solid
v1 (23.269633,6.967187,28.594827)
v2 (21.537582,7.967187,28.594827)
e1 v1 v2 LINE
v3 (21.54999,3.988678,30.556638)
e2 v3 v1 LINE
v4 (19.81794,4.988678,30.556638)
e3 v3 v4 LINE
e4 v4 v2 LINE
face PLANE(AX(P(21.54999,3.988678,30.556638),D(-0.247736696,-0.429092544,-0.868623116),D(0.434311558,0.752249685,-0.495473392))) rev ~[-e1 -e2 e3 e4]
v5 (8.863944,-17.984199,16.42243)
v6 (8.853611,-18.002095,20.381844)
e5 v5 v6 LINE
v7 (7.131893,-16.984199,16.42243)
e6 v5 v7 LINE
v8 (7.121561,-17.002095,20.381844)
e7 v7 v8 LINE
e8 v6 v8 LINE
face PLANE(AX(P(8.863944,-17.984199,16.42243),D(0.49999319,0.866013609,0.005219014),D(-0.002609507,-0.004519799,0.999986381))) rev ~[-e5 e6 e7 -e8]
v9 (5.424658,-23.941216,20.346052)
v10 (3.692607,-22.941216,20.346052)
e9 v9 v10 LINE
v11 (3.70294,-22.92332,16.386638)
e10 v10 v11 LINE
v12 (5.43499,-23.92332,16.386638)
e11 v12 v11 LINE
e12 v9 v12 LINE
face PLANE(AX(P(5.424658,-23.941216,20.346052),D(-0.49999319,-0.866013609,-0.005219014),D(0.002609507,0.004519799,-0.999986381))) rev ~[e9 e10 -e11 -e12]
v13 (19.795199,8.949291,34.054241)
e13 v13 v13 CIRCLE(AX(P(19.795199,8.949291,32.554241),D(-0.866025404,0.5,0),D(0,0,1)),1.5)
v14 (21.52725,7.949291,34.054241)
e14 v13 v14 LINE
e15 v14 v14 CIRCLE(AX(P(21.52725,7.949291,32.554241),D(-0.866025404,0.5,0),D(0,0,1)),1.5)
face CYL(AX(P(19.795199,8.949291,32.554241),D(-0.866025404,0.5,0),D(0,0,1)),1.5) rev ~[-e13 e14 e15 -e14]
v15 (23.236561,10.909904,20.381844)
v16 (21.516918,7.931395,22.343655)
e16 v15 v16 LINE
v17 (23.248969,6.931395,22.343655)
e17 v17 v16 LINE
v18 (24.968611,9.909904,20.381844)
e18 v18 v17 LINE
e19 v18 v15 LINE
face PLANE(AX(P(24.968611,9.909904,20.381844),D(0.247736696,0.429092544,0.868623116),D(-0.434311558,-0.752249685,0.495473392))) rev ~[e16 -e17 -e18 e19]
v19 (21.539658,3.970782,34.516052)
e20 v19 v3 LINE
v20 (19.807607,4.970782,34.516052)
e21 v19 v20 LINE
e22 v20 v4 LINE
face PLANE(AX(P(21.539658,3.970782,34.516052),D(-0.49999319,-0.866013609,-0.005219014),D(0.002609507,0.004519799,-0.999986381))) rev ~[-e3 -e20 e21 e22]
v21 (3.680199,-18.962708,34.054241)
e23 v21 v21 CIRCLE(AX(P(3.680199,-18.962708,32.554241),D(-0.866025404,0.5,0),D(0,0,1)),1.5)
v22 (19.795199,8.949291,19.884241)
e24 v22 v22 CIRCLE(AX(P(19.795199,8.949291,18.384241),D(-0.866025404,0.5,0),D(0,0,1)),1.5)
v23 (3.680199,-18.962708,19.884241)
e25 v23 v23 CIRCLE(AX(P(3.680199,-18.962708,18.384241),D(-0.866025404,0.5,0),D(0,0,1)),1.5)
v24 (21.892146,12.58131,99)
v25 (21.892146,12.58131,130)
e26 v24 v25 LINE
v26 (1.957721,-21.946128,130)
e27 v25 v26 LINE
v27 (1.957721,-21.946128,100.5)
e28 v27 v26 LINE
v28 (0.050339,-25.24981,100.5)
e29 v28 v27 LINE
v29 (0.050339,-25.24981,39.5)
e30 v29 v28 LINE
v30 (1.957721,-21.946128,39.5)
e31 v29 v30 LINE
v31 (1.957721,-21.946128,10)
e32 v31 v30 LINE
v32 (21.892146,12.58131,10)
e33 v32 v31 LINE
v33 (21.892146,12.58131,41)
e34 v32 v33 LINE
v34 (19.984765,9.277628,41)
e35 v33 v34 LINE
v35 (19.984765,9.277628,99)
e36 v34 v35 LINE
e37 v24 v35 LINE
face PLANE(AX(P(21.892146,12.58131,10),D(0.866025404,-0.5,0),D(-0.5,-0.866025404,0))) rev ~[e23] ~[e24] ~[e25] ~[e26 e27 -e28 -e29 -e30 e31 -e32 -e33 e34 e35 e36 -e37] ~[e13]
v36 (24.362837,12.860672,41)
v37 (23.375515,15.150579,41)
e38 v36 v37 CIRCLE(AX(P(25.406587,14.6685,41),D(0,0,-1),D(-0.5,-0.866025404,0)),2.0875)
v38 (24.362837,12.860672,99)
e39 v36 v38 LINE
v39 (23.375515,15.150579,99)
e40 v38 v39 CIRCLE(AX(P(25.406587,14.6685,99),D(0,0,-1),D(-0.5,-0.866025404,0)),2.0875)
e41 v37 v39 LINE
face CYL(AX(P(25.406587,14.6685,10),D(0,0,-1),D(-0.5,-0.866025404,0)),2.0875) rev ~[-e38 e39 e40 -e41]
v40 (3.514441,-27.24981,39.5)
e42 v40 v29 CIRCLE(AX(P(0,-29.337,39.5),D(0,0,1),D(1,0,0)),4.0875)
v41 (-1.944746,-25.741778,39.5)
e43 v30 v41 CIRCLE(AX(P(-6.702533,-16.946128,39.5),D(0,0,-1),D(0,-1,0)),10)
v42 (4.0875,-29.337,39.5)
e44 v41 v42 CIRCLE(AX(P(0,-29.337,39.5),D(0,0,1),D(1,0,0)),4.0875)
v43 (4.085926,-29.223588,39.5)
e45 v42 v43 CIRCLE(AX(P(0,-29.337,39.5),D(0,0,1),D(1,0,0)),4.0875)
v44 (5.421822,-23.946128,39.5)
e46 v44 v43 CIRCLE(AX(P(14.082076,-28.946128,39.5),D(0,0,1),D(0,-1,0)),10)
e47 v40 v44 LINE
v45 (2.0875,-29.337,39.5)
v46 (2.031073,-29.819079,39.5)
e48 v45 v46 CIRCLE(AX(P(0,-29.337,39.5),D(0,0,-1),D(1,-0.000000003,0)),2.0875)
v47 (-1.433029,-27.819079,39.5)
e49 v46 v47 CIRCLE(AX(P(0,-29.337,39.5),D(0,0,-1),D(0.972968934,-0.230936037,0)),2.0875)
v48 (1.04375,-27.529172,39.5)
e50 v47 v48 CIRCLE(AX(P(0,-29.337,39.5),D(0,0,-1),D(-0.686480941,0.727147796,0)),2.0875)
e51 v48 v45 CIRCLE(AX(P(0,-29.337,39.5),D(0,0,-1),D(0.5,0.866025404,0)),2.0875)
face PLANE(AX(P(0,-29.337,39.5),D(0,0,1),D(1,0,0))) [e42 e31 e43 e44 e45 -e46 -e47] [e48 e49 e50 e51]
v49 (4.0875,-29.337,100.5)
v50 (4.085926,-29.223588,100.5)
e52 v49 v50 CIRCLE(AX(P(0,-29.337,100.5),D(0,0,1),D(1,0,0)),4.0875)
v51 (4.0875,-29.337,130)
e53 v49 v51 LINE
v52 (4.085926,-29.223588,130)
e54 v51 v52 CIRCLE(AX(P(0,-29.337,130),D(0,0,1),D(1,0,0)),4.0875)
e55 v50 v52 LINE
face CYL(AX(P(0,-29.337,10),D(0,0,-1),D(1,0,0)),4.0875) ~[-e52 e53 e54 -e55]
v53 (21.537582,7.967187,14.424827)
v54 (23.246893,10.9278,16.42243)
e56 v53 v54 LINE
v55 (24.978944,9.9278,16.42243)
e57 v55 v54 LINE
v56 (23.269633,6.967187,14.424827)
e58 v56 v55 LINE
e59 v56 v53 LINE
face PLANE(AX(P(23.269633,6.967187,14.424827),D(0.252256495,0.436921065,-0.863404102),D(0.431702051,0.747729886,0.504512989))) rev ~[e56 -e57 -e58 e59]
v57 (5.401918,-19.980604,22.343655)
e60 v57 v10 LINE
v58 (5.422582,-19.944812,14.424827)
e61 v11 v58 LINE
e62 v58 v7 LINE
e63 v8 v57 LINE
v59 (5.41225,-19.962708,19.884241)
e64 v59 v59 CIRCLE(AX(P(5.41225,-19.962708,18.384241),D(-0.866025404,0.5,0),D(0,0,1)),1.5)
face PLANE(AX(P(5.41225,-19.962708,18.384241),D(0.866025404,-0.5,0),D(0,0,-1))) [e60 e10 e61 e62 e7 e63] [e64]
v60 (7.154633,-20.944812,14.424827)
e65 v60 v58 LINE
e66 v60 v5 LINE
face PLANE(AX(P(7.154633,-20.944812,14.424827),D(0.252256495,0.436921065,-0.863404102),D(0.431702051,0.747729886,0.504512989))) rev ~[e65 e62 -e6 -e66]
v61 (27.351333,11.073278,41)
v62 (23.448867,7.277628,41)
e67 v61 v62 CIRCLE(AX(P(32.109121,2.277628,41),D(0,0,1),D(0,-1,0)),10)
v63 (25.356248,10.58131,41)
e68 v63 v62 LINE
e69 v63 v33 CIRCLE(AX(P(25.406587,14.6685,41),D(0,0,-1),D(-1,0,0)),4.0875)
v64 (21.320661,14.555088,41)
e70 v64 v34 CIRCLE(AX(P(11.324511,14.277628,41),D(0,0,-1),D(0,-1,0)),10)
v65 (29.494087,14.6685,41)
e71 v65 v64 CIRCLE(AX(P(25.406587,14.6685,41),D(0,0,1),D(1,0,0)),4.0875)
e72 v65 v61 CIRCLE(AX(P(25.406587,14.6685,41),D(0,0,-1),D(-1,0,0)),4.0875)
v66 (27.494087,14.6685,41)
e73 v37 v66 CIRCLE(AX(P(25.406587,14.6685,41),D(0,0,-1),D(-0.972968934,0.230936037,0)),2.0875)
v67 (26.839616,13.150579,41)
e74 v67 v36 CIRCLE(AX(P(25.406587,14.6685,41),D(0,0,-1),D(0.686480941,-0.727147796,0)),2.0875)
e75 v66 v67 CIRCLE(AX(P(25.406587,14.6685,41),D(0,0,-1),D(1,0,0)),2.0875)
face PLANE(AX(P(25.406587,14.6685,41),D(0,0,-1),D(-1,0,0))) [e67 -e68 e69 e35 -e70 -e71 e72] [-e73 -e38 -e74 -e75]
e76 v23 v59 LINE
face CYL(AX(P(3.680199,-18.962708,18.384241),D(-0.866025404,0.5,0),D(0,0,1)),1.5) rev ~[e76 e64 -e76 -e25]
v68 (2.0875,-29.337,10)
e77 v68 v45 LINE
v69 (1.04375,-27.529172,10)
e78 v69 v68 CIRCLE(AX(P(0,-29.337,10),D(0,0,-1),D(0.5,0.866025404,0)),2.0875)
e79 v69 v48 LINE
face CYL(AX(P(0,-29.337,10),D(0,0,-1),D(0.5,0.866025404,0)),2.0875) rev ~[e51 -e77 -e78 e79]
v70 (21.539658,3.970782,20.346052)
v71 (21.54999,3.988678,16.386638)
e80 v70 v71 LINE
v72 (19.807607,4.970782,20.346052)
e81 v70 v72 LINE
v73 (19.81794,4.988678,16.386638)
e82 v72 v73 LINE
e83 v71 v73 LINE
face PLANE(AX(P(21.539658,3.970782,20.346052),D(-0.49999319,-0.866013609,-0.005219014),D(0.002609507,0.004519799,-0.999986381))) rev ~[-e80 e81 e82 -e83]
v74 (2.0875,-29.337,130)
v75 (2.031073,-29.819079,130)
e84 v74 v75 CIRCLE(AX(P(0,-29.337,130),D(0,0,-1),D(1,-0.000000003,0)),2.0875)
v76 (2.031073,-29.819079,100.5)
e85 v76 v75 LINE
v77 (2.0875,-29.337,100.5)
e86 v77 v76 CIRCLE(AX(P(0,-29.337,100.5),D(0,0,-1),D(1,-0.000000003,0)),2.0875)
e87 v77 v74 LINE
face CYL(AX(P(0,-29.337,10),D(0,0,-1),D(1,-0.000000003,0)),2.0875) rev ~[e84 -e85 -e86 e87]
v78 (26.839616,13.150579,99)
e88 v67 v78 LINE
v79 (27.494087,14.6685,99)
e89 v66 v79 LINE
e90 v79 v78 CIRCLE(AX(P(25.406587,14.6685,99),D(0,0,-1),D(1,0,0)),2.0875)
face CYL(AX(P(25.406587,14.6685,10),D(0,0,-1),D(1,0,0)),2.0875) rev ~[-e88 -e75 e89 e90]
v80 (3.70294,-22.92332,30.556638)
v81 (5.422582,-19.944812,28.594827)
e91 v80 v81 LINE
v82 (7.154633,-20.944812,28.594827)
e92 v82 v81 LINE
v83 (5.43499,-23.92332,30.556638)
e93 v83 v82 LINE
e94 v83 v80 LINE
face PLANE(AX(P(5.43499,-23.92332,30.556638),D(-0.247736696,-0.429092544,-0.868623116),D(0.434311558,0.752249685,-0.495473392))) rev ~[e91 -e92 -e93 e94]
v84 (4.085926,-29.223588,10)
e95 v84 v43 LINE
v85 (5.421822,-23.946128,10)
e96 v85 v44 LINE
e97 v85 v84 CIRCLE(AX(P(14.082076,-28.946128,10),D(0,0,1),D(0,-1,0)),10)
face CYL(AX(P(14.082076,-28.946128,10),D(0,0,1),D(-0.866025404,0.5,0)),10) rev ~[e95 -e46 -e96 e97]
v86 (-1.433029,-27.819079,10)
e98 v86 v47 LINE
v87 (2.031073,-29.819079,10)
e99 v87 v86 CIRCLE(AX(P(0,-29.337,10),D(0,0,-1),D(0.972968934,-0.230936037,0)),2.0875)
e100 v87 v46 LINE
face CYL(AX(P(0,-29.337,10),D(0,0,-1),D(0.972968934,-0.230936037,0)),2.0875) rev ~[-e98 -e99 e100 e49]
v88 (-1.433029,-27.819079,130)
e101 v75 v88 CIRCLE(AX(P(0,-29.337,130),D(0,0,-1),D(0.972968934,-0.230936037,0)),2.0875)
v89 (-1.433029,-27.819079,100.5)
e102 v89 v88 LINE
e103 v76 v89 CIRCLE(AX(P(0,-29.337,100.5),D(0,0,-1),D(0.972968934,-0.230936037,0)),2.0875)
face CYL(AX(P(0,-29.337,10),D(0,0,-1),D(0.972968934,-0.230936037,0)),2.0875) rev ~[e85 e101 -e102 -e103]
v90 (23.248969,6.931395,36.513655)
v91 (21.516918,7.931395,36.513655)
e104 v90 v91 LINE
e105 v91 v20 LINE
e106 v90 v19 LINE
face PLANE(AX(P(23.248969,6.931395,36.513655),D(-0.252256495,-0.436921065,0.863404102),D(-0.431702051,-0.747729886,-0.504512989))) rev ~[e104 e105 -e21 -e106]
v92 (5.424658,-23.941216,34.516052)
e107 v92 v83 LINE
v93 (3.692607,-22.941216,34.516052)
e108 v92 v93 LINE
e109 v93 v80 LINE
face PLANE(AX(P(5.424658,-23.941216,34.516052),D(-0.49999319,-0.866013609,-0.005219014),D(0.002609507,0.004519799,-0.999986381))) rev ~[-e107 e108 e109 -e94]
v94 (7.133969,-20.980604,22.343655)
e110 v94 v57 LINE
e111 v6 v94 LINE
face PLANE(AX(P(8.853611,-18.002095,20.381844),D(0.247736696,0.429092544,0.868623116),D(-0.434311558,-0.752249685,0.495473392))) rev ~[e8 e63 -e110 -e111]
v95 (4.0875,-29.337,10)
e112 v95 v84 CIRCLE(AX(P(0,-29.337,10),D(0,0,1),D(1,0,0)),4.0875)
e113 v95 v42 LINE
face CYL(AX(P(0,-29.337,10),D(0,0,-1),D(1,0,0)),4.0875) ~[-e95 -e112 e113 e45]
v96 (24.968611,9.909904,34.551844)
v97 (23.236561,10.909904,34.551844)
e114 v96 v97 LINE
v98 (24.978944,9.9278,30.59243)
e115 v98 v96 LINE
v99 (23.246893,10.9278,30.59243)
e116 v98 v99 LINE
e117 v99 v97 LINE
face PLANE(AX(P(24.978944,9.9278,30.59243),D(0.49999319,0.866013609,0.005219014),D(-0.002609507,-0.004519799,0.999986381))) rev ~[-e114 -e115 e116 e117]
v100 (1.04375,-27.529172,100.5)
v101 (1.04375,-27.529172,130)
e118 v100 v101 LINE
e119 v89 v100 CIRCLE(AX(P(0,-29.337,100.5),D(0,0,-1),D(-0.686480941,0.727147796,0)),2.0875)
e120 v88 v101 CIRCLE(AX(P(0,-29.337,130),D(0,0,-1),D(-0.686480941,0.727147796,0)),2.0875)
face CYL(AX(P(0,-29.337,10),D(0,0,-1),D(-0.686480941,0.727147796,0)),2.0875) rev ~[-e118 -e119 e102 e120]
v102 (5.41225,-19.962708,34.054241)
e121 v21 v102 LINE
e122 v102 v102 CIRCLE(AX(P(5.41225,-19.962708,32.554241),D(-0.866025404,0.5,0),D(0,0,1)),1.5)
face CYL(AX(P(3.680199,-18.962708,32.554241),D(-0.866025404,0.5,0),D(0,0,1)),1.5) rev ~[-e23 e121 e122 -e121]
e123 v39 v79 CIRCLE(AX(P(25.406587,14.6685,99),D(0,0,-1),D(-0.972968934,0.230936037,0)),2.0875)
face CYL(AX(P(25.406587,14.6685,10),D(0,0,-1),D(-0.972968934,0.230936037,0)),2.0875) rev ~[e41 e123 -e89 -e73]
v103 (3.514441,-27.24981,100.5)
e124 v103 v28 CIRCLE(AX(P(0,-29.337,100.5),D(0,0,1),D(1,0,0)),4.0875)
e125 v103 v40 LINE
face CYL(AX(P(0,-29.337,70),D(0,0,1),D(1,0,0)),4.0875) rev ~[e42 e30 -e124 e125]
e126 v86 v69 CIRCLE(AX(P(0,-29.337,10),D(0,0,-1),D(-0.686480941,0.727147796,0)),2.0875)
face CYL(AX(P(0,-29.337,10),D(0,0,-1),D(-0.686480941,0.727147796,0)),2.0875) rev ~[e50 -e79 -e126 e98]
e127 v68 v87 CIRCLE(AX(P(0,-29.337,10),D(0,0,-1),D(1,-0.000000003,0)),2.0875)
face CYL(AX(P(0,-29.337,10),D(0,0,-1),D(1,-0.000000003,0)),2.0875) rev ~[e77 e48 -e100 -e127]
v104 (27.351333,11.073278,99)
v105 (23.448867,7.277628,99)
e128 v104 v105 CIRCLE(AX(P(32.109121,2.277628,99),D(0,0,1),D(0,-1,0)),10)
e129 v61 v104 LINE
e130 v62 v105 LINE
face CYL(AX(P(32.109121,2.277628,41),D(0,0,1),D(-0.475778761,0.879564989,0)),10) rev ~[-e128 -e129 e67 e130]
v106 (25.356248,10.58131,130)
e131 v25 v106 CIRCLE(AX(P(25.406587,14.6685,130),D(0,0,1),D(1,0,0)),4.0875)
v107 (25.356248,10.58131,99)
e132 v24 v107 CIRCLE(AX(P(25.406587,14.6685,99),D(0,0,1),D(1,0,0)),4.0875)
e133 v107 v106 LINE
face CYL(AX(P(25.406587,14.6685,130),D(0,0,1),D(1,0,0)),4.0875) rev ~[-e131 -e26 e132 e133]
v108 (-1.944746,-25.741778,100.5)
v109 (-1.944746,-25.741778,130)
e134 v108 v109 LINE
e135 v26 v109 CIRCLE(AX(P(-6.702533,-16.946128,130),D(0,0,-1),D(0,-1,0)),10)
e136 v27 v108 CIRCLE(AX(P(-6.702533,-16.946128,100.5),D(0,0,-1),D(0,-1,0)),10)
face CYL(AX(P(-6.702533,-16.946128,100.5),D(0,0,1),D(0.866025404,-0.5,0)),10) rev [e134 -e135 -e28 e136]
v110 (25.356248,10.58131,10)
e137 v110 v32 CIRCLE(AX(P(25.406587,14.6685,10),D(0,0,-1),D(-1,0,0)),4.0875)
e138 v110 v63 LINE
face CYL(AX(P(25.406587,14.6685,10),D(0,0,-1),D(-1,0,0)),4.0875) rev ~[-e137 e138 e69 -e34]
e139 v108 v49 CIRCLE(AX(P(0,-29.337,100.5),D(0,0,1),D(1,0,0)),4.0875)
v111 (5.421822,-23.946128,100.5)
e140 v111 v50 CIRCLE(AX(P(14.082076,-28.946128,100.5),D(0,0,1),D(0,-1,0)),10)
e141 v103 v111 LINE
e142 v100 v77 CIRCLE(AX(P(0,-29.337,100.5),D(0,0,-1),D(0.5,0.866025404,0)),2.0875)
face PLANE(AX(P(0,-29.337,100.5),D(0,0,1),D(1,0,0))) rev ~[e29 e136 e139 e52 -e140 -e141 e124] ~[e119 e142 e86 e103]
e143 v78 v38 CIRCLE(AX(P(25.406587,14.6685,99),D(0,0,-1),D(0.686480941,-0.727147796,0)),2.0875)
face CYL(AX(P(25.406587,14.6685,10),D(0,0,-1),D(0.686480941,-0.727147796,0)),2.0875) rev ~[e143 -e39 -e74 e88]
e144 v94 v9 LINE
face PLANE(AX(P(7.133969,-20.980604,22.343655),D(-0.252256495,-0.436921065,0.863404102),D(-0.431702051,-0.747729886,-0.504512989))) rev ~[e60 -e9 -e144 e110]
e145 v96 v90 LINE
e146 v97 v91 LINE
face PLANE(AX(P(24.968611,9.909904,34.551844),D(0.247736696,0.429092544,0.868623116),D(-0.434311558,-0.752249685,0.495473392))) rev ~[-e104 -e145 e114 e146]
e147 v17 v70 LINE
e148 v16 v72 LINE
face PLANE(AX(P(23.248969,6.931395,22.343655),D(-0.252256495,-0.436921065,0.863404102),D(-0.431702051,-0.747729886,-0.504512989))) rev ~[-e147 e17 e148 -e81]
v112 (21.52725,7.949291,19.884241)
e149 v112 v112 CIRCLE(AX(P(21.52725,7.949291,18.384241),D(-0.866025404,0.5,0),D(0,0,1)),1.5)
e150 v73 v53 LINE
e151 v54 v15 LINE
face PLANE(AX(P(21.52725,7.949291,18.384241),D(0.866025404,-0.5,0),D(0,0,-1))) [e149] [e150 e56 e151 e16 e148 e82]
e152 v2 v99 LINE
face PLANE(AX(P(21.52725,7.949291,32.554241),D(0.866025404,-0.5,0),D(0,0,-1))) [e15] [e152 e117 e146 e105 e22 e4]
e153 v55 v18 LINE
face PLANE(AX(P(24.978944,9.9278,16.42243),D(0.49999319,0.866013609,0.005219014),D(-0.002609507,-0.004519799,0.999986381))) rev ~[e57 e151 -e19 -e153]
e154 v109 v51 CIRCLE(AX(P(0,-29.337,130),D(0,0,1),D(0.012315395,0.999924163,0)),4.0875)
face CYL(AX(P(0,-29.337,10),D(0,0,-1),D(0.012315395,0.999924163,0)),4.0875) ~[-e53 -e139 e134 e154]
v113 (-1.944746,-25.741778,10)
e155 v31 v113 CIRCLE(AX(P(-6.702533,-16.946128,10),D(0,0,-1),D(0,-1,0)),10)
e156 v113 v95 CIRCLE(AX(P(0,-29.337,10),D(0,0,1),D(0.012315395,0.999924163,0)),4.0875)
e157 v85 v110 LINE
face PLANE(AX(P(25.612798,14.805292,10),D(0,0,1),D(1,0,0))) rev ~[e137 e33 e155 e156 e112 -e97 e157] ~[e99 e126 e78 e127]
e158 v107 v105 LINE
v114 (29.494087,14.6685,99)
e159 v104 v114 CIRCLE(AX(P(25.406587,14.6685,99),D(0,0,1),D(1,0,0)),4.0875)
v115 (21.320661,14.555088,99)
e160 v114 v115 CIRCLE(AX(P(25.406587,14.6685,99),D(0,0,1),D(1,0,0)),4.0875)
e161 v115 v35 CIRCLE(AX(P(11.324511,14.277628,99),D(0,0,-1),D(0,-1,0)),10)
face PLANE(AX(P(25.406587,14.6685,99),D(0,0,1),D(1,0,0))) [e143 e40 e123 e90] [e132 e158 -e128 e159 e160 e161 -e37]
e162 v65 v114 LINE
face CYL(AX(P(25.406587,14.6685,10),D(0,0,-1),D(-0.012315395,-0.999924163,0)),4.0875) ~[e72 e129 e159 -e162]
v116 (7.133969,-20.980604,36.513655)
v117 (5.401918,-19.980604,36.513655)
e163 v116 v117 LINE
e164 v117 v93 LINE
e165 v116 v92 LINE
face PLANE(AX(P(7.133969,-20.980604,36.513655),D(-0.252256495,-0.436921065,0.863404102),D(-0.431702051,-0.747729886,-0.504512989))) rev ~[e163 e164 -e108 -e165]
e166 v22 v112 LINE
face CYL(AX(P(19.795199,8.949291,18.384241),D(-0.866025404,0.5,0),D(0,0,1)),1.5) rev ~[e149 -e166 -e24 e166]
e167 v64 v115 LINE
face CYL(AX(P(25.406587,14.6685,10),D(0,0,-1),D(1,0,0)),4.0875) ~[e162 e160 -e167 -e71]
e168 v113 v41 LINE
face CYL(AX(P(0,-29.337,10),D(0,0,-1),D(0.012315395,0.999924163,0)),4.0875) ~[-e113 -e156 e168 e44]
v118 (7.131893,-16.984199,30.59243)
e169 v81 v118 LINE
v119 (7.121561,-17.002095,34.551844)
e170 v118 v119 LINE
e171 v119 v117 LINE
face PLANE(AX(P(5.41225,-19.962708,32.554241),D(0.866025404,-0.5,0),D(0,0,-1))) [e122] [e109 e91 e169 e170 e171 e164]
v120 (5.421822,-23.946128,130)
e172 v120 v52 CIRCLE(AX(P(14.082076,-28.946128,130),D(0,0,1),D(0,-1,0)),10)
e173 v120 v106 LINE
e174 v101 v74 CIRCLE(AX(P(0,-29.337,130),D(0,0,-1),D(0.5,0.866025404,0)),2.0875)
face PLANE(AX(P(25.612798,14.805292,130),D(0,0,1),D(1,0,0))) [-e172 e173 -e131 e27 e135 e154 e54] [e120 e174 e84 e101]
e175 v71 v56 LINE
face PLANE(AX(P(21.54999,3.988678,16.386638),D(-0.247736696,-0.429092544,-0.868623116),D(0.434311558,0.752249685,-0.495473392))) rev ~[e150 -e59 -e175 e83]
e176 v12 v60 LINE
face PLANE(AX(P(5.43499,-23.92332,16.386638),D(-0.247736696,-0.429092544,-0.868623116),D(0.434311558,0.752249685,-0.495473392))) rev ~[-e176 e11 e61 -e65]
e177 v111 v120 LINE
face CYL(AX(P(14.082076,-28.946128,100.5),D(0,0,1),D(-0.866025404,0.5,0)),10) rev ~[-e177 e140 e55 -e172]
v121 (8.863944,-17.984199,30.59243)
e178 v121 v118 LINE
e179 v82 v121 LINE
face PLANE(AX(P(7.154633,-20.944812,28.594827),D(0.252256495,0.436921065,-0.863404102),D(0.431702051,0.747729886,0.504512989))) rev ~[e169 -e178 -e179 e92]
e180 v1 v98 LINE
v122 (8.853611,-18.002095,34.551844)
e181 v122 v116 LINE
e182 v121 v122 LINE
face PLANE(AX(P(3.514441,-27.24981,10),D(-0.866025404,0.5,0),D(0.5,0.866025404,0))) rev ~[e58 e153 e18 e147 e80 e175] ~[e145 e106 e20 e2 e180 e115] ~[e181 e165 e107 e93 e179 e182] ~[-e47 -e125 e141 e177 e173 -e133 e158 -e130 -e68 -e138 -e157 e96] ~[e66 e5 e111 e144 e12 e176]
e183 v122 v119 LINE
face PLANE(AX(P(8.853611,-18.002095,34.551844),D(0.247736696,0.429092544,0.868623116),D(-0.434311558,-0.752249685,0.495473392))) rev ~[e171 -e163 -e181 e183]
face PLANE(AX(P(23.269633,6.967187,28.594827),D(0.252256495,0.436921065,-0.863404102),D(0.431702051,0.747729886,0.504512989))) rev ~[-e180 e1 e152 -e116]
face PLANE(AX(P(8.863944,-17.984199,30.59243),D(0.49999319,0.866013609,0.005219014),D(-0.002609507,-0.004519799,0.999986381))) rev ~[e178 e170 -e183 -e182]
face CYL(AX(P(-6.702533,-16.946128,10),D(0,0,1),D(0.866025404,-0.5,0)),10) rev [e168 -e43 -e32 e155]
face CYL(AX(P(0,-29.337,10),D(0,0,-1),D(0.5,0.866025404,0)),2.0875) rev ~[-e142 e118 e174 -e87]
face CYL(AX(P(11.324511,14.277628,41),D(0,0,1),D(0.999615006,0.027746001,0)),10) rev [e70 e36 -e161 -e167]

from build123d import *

# Parameters (mm, degrees)
SKETCH2_R               = 1.5875
BOSS_EXTRUDE1_DEPTH     = 10
BOSS_EXTRUDE2_DEPTH     = 120
SKETCH4_R               = 4.0875
CUT_EXTRUDE1_DEPTH      = 30.5
CUT_EXTRUDE1_DEPTH_BACK = 30.5
SKETCH5_R               = 4.0875
CUT_EXTRUDE2_DEPTH      = 31
SKETCH6_R               = 4.0875
CUT_EXTRUDE3_DEPTH      = 31
FILLET1_R               = 10
SKETCH7_R               = 1.5
CUT_EXTRUDE4_DEPTH      = 4
SKETCH8_R               = 1.5
CUT_EXTRUDE5_DEPTH      = 2


with BuildPart() as part:
    # Sketch2 → Boss-Extrude1 (new body)
    with BuildSketch(Plane.XY):
        with BuildLine():
            Line((0, -27.7495), (0, 0))
            Line((0, 0), (38.1, 0))
            ThreePointArc((38.1, 0), (-26.940768363, 26.940768363), (0, -38.1))
            Line((0, -38.1), (0, -30.9245))
            ThreePointArc((0, -30.9245), (-1.5875, -29.337), (0, -27.7495))
        make_face()
        with Locations((-25.406587271, 14.6685)):
            Circle(SKETCH2_R, mode=Mode.SUBTRACT)
        with Locations((25.406587271, 14.6685)):
            Circle(SKETCH2_R, mode=Mode.SUBTRACT)
        with BuildLine():
            Line((38.1, 0), (0, 0))
            Line((0, 0), (0, -27.7495))
            ThreePointArc((0, -27.7495), (1.122532015, -28.214467985), (1.5875, -29.337))
            ThreePointArc((1.5875, -29.337), (1.122532015, -30.459532015), (0, -30.9245))
            Line((0, -30.9245), (0, -38.1))
            ThreePointArc((0, -38.1), (26.940768363, -26.940768363), (38.1, 0))
        make_face()
    extrude(amount=BOSS_EXTRUDE1_DEPTH)


with BuildPart() as body_2:
    # Sketch3 → Boss-Extrude2 (new body)
    with BuildSketch(Plane.XY.offset(10)):
        with BuildLine():
            ThreePointArc((29.494087271, 14.6685), (24.324372064, 18.610132466), (21.892146477, 12.581309985))
            Line((21.892146477, 12.581309985), (23.37551462, 15.150578976))
            ThreePointArc((23.37551462, 15.150578976), (25.649272347, 16.741845172), (27.494087271, 14.6685))
            ThreePointArc((27.494087271, 14.6685), (27.323499399, 13.841998855), (26.839616236, 13.150578976))
            Line((26.839616236, 13.150578976), (25.356248092, 10.581309985))
            ThreePointArc((25.356248092, 10.581309985), (28.279033516, 11.760457906), (29.494087271, 14.6685))
        make_face()
        with BuildLine():
            Line((24.362837271, 12.86067197), (23.362837271, 11.128621162))
            ThreePointArc((23.362837271, 11.128621162), (24.324372064, 10.726867534), (25.356248092, 10.581309985))
            Line((25.356248092, 10.581309985), (26.839616236, 13.150578976))
            ThreePointArc((26.839616236, 13.150578976), (25.649272347, 12.595154828), (24.362837271, 12.86067197))
        make_face()
        with BuildLine():
            ThreePointArc((21.892146477, 12.581309985), (22.534141026, 11.760457906), (23.362837271, 11.128621162))
            Line((23.362837271, 11.128621162), (24.362837271, 12.86067197))
            ThreePointArc((24.362837271, 12.86067197), (23.489675143, 13.841998855), (23.37551462, 15.150578976))
            Line((23.37551462, 15.150578976), (21.892146477, 12.581309985))
        make_face()
        with BuildLine():
            Line((23.362837271, 11.128621162), (2.04375, -25.797121162))
            ThreePointArc((2.04375, -25.797121162), (2.872446245, -26.428957906), (3.514440794, -27.249809985))
            Line((3.514440794, -27.249809985), (25.356248092, 10.581309985))
            ThreePointArc((25.356248092, 10.581309985), (24.324372064, 10.726867534), (23.362837271, 11.128621162))
        make_face()
        with BuildLine():
            ThreePointArc((0.050339179, -25.249809985), (1.082215206, -25.395367534), (2.04375, -25.797121162))
            Line((2.04375, -25.797121162), (23.362837271, 11.128621162))
            ThreePointArc((23.362837271, 11.128621162), (22.534141026, 11.760457906), (21.892146477, 12.581309985))
            Line((21.892146477, 12.581309985), (0.050339179, -25.249809985))
        make_face()
        with BuildLine():
            ThreePointArc((-1.433028965, -27.819078976), (-0.242685076, -27.263654828), (1.04375, -27.52917197))
            Line((1.04375, -27.52917197), (2.04375, -25.797121162))
            ThreePointArc((2.04375, -25.797121162), (1.082215206, -25.395367534), (0.050339179, -25.249809985))
            Line((0.050339179, -25.249809985), (-1.433028965, -27.819078976))
        make_face()
        with BuildLine():
            Line((2.04375, -25.797121162), (1.04375, -27.52917197))
            ThreePointArc((1.04375, -27.52917197), (1.80782803, -28.29325), (2.0875, -29.337))
            ThreePointArc((2.0875, -29.337), (2.073345172, -29.579685076), (2.03107265, -29.819078976))
            Line((2.03107265, -29.819078976), (3.514440794, -27.249809985))
            ThreePointArc((3.514440794, -27.249809985), (2.872446245, -26.428957906), (2.04375, -25.797121162))
        make_face()
        with BuildLine():
            ThreePointArc((2.03107265, -29.819078976), (-1.04375, -31.14482803), (-1.433028965, -27.819078976))
            Line((-1.433028965, -27.819078976), (0.050339179, -25.249809985))
            ThreePointArc((0.050339179, -25.249809985), (-2.908042094, -32.209446245), (4.0875, -29.337))
            ThreePointArc((4.0875, -29.337), (3.941632466, -28.254784794), (3.514440794, -27.249809985))
            Line((3.514440794, -27.249809985), (2.03107265, -29.819078976))
        make_face()
    extrude(amount=BOSS_EXTRUDE2_DEPTH)

    # Sketch4 → Cut-Extrude1 (cut, two sides)
    with BuildSketch(Plane.XY.offset(70)) as cut_extrude1_sk:
        with Locations((0, -29.337)):
            Circle(SKETCH4_R)
    extrude(amount=CUT_EXTRUDE1_DEPTH, mode=Mode.SUBTRACT)
    extrude(cut_extrude1_sk.sketch, amount=-CUT_EXTRUDE1_DEPTH_BACK, mode=Mode.SUBTRACT)

    # Sketch5 → Cut-Extrude2 (cut)
    with BuildSketch(Plane(origin=(0, 0, 10), x_dir=(-1, 0, 0), z_dir=(0, 0, -1))):
        with Locations((-25.406587271, 14.6685)):
            Circle(SKETCH5_R)
    extrude(amount=-CUT_EXTRUDE2_DEPTH, mode=Mode.SUBTRACT)

    # Sketch6 → Cut-Extrude3 (cut)
    with BuildSketch(Plane.XY.offset(130)):
        with Locations((25.406587271, 14.6685)):
            Circle(SKETCH6_R)
    extrude(amount=-CUT_EXTRUDE3_DEPTH, mode=Mode.SUBTRACT)

    # Fillet1
    fillet1_edges = [body_2.edges().sort_by_distance(p)[0] for p in [
        (0.050339179, -25.249809985, 115.25),
        (3.514440794, -27.249809985, 115.25),
        (0.050339179, -25.249809985, 24.75),
        (3.514440794, -27.249809985, 24.75),
        (21.892146477, 12.581309985, 70),
        (25.356248092, 10.581309985, 70),
    ]]
    fillet(fillet1_edges, radius=FILLET1_R)

    # Sketch7 → Cut-Extrude4 (cut)
    with BuildSketch(Plane(origin=(10.971242828, -6.33425, 0), x_dir=(0, 0, 1), z_dir=(-0.866025404, 0.5, 0))):
        with Locations((18.38424077, -14.582087011)):
            Circle(SKETCH7_R)
        with Locations((18.38424077, 17.647912989)):
            Circle(SKETCH7_R)
        with Locations((32.55424077, 17.647912989)):
            Circle(SKETCH7_R)
        with Locations((32.55424077, -14.582087011)):
            Circle(SKETCH7_R)
    extrude(amount=-CUT_EXTRUDE4_DEPTH, mode=Mode.SUBTRACT)

    # Sketch8 → Cut-Extrude5 (cut)
    with BuildSketch(Plane(origin=(14.435344443, -8.33425, 0), x_dir=(0, 0, -1), z_dir=(0.866025404, -0.5, 0))):
        with Locations((-18.38424077, -14.582087011)):
            Circle(SKETCH8_R)
        Polygon((-34.516051881, 14.208627429), (-30.556637659, 14.22929195), (-28.594826548, 17.66857751), (-30.592429659, 21.08719855), (-34.55184388, 21.066534029), (-36.513654991, 17.627248469), align=None)
        with Locations((-18.38424077, 17.647912989)):
            Circle(SKETCH8_R)
        Polygon((-34.516051881, -18.021372571), (-30.556637659, -18.00070805), (-28.594826548, -14.56142249), (-30.592429659, -11.14280145), (-34.55184388, -11.163465971), (-36.513654991, -14.602751531), align=None)
        with Locations((-32.55424077, 17.647912989)):
            Circle(SKETCH8_R)
        Polygon((-20.346051881, -18.021372571), (-16.386637659, -18.00070805), (-14.424826548, -14.56142249), (-16.422429659, -11.14280145), (-20.38184388, -11.163465971), (-22.343654991, -14.602751531), align=None)
        Polygon((-20.346051881, 14.208627429), (-16.386637659, 14.22929195), (-14.424826548, 17.66857751), (-16.422429659, 21.08719855), (-20.38184388, 21.066534029), (-22.343654991, 17.627248469), align=None)
    extrude(amount=-CUT_EXTRUDE5_DEPTH, mode=Mode.SUBTRACT)


solid = body_2.part
